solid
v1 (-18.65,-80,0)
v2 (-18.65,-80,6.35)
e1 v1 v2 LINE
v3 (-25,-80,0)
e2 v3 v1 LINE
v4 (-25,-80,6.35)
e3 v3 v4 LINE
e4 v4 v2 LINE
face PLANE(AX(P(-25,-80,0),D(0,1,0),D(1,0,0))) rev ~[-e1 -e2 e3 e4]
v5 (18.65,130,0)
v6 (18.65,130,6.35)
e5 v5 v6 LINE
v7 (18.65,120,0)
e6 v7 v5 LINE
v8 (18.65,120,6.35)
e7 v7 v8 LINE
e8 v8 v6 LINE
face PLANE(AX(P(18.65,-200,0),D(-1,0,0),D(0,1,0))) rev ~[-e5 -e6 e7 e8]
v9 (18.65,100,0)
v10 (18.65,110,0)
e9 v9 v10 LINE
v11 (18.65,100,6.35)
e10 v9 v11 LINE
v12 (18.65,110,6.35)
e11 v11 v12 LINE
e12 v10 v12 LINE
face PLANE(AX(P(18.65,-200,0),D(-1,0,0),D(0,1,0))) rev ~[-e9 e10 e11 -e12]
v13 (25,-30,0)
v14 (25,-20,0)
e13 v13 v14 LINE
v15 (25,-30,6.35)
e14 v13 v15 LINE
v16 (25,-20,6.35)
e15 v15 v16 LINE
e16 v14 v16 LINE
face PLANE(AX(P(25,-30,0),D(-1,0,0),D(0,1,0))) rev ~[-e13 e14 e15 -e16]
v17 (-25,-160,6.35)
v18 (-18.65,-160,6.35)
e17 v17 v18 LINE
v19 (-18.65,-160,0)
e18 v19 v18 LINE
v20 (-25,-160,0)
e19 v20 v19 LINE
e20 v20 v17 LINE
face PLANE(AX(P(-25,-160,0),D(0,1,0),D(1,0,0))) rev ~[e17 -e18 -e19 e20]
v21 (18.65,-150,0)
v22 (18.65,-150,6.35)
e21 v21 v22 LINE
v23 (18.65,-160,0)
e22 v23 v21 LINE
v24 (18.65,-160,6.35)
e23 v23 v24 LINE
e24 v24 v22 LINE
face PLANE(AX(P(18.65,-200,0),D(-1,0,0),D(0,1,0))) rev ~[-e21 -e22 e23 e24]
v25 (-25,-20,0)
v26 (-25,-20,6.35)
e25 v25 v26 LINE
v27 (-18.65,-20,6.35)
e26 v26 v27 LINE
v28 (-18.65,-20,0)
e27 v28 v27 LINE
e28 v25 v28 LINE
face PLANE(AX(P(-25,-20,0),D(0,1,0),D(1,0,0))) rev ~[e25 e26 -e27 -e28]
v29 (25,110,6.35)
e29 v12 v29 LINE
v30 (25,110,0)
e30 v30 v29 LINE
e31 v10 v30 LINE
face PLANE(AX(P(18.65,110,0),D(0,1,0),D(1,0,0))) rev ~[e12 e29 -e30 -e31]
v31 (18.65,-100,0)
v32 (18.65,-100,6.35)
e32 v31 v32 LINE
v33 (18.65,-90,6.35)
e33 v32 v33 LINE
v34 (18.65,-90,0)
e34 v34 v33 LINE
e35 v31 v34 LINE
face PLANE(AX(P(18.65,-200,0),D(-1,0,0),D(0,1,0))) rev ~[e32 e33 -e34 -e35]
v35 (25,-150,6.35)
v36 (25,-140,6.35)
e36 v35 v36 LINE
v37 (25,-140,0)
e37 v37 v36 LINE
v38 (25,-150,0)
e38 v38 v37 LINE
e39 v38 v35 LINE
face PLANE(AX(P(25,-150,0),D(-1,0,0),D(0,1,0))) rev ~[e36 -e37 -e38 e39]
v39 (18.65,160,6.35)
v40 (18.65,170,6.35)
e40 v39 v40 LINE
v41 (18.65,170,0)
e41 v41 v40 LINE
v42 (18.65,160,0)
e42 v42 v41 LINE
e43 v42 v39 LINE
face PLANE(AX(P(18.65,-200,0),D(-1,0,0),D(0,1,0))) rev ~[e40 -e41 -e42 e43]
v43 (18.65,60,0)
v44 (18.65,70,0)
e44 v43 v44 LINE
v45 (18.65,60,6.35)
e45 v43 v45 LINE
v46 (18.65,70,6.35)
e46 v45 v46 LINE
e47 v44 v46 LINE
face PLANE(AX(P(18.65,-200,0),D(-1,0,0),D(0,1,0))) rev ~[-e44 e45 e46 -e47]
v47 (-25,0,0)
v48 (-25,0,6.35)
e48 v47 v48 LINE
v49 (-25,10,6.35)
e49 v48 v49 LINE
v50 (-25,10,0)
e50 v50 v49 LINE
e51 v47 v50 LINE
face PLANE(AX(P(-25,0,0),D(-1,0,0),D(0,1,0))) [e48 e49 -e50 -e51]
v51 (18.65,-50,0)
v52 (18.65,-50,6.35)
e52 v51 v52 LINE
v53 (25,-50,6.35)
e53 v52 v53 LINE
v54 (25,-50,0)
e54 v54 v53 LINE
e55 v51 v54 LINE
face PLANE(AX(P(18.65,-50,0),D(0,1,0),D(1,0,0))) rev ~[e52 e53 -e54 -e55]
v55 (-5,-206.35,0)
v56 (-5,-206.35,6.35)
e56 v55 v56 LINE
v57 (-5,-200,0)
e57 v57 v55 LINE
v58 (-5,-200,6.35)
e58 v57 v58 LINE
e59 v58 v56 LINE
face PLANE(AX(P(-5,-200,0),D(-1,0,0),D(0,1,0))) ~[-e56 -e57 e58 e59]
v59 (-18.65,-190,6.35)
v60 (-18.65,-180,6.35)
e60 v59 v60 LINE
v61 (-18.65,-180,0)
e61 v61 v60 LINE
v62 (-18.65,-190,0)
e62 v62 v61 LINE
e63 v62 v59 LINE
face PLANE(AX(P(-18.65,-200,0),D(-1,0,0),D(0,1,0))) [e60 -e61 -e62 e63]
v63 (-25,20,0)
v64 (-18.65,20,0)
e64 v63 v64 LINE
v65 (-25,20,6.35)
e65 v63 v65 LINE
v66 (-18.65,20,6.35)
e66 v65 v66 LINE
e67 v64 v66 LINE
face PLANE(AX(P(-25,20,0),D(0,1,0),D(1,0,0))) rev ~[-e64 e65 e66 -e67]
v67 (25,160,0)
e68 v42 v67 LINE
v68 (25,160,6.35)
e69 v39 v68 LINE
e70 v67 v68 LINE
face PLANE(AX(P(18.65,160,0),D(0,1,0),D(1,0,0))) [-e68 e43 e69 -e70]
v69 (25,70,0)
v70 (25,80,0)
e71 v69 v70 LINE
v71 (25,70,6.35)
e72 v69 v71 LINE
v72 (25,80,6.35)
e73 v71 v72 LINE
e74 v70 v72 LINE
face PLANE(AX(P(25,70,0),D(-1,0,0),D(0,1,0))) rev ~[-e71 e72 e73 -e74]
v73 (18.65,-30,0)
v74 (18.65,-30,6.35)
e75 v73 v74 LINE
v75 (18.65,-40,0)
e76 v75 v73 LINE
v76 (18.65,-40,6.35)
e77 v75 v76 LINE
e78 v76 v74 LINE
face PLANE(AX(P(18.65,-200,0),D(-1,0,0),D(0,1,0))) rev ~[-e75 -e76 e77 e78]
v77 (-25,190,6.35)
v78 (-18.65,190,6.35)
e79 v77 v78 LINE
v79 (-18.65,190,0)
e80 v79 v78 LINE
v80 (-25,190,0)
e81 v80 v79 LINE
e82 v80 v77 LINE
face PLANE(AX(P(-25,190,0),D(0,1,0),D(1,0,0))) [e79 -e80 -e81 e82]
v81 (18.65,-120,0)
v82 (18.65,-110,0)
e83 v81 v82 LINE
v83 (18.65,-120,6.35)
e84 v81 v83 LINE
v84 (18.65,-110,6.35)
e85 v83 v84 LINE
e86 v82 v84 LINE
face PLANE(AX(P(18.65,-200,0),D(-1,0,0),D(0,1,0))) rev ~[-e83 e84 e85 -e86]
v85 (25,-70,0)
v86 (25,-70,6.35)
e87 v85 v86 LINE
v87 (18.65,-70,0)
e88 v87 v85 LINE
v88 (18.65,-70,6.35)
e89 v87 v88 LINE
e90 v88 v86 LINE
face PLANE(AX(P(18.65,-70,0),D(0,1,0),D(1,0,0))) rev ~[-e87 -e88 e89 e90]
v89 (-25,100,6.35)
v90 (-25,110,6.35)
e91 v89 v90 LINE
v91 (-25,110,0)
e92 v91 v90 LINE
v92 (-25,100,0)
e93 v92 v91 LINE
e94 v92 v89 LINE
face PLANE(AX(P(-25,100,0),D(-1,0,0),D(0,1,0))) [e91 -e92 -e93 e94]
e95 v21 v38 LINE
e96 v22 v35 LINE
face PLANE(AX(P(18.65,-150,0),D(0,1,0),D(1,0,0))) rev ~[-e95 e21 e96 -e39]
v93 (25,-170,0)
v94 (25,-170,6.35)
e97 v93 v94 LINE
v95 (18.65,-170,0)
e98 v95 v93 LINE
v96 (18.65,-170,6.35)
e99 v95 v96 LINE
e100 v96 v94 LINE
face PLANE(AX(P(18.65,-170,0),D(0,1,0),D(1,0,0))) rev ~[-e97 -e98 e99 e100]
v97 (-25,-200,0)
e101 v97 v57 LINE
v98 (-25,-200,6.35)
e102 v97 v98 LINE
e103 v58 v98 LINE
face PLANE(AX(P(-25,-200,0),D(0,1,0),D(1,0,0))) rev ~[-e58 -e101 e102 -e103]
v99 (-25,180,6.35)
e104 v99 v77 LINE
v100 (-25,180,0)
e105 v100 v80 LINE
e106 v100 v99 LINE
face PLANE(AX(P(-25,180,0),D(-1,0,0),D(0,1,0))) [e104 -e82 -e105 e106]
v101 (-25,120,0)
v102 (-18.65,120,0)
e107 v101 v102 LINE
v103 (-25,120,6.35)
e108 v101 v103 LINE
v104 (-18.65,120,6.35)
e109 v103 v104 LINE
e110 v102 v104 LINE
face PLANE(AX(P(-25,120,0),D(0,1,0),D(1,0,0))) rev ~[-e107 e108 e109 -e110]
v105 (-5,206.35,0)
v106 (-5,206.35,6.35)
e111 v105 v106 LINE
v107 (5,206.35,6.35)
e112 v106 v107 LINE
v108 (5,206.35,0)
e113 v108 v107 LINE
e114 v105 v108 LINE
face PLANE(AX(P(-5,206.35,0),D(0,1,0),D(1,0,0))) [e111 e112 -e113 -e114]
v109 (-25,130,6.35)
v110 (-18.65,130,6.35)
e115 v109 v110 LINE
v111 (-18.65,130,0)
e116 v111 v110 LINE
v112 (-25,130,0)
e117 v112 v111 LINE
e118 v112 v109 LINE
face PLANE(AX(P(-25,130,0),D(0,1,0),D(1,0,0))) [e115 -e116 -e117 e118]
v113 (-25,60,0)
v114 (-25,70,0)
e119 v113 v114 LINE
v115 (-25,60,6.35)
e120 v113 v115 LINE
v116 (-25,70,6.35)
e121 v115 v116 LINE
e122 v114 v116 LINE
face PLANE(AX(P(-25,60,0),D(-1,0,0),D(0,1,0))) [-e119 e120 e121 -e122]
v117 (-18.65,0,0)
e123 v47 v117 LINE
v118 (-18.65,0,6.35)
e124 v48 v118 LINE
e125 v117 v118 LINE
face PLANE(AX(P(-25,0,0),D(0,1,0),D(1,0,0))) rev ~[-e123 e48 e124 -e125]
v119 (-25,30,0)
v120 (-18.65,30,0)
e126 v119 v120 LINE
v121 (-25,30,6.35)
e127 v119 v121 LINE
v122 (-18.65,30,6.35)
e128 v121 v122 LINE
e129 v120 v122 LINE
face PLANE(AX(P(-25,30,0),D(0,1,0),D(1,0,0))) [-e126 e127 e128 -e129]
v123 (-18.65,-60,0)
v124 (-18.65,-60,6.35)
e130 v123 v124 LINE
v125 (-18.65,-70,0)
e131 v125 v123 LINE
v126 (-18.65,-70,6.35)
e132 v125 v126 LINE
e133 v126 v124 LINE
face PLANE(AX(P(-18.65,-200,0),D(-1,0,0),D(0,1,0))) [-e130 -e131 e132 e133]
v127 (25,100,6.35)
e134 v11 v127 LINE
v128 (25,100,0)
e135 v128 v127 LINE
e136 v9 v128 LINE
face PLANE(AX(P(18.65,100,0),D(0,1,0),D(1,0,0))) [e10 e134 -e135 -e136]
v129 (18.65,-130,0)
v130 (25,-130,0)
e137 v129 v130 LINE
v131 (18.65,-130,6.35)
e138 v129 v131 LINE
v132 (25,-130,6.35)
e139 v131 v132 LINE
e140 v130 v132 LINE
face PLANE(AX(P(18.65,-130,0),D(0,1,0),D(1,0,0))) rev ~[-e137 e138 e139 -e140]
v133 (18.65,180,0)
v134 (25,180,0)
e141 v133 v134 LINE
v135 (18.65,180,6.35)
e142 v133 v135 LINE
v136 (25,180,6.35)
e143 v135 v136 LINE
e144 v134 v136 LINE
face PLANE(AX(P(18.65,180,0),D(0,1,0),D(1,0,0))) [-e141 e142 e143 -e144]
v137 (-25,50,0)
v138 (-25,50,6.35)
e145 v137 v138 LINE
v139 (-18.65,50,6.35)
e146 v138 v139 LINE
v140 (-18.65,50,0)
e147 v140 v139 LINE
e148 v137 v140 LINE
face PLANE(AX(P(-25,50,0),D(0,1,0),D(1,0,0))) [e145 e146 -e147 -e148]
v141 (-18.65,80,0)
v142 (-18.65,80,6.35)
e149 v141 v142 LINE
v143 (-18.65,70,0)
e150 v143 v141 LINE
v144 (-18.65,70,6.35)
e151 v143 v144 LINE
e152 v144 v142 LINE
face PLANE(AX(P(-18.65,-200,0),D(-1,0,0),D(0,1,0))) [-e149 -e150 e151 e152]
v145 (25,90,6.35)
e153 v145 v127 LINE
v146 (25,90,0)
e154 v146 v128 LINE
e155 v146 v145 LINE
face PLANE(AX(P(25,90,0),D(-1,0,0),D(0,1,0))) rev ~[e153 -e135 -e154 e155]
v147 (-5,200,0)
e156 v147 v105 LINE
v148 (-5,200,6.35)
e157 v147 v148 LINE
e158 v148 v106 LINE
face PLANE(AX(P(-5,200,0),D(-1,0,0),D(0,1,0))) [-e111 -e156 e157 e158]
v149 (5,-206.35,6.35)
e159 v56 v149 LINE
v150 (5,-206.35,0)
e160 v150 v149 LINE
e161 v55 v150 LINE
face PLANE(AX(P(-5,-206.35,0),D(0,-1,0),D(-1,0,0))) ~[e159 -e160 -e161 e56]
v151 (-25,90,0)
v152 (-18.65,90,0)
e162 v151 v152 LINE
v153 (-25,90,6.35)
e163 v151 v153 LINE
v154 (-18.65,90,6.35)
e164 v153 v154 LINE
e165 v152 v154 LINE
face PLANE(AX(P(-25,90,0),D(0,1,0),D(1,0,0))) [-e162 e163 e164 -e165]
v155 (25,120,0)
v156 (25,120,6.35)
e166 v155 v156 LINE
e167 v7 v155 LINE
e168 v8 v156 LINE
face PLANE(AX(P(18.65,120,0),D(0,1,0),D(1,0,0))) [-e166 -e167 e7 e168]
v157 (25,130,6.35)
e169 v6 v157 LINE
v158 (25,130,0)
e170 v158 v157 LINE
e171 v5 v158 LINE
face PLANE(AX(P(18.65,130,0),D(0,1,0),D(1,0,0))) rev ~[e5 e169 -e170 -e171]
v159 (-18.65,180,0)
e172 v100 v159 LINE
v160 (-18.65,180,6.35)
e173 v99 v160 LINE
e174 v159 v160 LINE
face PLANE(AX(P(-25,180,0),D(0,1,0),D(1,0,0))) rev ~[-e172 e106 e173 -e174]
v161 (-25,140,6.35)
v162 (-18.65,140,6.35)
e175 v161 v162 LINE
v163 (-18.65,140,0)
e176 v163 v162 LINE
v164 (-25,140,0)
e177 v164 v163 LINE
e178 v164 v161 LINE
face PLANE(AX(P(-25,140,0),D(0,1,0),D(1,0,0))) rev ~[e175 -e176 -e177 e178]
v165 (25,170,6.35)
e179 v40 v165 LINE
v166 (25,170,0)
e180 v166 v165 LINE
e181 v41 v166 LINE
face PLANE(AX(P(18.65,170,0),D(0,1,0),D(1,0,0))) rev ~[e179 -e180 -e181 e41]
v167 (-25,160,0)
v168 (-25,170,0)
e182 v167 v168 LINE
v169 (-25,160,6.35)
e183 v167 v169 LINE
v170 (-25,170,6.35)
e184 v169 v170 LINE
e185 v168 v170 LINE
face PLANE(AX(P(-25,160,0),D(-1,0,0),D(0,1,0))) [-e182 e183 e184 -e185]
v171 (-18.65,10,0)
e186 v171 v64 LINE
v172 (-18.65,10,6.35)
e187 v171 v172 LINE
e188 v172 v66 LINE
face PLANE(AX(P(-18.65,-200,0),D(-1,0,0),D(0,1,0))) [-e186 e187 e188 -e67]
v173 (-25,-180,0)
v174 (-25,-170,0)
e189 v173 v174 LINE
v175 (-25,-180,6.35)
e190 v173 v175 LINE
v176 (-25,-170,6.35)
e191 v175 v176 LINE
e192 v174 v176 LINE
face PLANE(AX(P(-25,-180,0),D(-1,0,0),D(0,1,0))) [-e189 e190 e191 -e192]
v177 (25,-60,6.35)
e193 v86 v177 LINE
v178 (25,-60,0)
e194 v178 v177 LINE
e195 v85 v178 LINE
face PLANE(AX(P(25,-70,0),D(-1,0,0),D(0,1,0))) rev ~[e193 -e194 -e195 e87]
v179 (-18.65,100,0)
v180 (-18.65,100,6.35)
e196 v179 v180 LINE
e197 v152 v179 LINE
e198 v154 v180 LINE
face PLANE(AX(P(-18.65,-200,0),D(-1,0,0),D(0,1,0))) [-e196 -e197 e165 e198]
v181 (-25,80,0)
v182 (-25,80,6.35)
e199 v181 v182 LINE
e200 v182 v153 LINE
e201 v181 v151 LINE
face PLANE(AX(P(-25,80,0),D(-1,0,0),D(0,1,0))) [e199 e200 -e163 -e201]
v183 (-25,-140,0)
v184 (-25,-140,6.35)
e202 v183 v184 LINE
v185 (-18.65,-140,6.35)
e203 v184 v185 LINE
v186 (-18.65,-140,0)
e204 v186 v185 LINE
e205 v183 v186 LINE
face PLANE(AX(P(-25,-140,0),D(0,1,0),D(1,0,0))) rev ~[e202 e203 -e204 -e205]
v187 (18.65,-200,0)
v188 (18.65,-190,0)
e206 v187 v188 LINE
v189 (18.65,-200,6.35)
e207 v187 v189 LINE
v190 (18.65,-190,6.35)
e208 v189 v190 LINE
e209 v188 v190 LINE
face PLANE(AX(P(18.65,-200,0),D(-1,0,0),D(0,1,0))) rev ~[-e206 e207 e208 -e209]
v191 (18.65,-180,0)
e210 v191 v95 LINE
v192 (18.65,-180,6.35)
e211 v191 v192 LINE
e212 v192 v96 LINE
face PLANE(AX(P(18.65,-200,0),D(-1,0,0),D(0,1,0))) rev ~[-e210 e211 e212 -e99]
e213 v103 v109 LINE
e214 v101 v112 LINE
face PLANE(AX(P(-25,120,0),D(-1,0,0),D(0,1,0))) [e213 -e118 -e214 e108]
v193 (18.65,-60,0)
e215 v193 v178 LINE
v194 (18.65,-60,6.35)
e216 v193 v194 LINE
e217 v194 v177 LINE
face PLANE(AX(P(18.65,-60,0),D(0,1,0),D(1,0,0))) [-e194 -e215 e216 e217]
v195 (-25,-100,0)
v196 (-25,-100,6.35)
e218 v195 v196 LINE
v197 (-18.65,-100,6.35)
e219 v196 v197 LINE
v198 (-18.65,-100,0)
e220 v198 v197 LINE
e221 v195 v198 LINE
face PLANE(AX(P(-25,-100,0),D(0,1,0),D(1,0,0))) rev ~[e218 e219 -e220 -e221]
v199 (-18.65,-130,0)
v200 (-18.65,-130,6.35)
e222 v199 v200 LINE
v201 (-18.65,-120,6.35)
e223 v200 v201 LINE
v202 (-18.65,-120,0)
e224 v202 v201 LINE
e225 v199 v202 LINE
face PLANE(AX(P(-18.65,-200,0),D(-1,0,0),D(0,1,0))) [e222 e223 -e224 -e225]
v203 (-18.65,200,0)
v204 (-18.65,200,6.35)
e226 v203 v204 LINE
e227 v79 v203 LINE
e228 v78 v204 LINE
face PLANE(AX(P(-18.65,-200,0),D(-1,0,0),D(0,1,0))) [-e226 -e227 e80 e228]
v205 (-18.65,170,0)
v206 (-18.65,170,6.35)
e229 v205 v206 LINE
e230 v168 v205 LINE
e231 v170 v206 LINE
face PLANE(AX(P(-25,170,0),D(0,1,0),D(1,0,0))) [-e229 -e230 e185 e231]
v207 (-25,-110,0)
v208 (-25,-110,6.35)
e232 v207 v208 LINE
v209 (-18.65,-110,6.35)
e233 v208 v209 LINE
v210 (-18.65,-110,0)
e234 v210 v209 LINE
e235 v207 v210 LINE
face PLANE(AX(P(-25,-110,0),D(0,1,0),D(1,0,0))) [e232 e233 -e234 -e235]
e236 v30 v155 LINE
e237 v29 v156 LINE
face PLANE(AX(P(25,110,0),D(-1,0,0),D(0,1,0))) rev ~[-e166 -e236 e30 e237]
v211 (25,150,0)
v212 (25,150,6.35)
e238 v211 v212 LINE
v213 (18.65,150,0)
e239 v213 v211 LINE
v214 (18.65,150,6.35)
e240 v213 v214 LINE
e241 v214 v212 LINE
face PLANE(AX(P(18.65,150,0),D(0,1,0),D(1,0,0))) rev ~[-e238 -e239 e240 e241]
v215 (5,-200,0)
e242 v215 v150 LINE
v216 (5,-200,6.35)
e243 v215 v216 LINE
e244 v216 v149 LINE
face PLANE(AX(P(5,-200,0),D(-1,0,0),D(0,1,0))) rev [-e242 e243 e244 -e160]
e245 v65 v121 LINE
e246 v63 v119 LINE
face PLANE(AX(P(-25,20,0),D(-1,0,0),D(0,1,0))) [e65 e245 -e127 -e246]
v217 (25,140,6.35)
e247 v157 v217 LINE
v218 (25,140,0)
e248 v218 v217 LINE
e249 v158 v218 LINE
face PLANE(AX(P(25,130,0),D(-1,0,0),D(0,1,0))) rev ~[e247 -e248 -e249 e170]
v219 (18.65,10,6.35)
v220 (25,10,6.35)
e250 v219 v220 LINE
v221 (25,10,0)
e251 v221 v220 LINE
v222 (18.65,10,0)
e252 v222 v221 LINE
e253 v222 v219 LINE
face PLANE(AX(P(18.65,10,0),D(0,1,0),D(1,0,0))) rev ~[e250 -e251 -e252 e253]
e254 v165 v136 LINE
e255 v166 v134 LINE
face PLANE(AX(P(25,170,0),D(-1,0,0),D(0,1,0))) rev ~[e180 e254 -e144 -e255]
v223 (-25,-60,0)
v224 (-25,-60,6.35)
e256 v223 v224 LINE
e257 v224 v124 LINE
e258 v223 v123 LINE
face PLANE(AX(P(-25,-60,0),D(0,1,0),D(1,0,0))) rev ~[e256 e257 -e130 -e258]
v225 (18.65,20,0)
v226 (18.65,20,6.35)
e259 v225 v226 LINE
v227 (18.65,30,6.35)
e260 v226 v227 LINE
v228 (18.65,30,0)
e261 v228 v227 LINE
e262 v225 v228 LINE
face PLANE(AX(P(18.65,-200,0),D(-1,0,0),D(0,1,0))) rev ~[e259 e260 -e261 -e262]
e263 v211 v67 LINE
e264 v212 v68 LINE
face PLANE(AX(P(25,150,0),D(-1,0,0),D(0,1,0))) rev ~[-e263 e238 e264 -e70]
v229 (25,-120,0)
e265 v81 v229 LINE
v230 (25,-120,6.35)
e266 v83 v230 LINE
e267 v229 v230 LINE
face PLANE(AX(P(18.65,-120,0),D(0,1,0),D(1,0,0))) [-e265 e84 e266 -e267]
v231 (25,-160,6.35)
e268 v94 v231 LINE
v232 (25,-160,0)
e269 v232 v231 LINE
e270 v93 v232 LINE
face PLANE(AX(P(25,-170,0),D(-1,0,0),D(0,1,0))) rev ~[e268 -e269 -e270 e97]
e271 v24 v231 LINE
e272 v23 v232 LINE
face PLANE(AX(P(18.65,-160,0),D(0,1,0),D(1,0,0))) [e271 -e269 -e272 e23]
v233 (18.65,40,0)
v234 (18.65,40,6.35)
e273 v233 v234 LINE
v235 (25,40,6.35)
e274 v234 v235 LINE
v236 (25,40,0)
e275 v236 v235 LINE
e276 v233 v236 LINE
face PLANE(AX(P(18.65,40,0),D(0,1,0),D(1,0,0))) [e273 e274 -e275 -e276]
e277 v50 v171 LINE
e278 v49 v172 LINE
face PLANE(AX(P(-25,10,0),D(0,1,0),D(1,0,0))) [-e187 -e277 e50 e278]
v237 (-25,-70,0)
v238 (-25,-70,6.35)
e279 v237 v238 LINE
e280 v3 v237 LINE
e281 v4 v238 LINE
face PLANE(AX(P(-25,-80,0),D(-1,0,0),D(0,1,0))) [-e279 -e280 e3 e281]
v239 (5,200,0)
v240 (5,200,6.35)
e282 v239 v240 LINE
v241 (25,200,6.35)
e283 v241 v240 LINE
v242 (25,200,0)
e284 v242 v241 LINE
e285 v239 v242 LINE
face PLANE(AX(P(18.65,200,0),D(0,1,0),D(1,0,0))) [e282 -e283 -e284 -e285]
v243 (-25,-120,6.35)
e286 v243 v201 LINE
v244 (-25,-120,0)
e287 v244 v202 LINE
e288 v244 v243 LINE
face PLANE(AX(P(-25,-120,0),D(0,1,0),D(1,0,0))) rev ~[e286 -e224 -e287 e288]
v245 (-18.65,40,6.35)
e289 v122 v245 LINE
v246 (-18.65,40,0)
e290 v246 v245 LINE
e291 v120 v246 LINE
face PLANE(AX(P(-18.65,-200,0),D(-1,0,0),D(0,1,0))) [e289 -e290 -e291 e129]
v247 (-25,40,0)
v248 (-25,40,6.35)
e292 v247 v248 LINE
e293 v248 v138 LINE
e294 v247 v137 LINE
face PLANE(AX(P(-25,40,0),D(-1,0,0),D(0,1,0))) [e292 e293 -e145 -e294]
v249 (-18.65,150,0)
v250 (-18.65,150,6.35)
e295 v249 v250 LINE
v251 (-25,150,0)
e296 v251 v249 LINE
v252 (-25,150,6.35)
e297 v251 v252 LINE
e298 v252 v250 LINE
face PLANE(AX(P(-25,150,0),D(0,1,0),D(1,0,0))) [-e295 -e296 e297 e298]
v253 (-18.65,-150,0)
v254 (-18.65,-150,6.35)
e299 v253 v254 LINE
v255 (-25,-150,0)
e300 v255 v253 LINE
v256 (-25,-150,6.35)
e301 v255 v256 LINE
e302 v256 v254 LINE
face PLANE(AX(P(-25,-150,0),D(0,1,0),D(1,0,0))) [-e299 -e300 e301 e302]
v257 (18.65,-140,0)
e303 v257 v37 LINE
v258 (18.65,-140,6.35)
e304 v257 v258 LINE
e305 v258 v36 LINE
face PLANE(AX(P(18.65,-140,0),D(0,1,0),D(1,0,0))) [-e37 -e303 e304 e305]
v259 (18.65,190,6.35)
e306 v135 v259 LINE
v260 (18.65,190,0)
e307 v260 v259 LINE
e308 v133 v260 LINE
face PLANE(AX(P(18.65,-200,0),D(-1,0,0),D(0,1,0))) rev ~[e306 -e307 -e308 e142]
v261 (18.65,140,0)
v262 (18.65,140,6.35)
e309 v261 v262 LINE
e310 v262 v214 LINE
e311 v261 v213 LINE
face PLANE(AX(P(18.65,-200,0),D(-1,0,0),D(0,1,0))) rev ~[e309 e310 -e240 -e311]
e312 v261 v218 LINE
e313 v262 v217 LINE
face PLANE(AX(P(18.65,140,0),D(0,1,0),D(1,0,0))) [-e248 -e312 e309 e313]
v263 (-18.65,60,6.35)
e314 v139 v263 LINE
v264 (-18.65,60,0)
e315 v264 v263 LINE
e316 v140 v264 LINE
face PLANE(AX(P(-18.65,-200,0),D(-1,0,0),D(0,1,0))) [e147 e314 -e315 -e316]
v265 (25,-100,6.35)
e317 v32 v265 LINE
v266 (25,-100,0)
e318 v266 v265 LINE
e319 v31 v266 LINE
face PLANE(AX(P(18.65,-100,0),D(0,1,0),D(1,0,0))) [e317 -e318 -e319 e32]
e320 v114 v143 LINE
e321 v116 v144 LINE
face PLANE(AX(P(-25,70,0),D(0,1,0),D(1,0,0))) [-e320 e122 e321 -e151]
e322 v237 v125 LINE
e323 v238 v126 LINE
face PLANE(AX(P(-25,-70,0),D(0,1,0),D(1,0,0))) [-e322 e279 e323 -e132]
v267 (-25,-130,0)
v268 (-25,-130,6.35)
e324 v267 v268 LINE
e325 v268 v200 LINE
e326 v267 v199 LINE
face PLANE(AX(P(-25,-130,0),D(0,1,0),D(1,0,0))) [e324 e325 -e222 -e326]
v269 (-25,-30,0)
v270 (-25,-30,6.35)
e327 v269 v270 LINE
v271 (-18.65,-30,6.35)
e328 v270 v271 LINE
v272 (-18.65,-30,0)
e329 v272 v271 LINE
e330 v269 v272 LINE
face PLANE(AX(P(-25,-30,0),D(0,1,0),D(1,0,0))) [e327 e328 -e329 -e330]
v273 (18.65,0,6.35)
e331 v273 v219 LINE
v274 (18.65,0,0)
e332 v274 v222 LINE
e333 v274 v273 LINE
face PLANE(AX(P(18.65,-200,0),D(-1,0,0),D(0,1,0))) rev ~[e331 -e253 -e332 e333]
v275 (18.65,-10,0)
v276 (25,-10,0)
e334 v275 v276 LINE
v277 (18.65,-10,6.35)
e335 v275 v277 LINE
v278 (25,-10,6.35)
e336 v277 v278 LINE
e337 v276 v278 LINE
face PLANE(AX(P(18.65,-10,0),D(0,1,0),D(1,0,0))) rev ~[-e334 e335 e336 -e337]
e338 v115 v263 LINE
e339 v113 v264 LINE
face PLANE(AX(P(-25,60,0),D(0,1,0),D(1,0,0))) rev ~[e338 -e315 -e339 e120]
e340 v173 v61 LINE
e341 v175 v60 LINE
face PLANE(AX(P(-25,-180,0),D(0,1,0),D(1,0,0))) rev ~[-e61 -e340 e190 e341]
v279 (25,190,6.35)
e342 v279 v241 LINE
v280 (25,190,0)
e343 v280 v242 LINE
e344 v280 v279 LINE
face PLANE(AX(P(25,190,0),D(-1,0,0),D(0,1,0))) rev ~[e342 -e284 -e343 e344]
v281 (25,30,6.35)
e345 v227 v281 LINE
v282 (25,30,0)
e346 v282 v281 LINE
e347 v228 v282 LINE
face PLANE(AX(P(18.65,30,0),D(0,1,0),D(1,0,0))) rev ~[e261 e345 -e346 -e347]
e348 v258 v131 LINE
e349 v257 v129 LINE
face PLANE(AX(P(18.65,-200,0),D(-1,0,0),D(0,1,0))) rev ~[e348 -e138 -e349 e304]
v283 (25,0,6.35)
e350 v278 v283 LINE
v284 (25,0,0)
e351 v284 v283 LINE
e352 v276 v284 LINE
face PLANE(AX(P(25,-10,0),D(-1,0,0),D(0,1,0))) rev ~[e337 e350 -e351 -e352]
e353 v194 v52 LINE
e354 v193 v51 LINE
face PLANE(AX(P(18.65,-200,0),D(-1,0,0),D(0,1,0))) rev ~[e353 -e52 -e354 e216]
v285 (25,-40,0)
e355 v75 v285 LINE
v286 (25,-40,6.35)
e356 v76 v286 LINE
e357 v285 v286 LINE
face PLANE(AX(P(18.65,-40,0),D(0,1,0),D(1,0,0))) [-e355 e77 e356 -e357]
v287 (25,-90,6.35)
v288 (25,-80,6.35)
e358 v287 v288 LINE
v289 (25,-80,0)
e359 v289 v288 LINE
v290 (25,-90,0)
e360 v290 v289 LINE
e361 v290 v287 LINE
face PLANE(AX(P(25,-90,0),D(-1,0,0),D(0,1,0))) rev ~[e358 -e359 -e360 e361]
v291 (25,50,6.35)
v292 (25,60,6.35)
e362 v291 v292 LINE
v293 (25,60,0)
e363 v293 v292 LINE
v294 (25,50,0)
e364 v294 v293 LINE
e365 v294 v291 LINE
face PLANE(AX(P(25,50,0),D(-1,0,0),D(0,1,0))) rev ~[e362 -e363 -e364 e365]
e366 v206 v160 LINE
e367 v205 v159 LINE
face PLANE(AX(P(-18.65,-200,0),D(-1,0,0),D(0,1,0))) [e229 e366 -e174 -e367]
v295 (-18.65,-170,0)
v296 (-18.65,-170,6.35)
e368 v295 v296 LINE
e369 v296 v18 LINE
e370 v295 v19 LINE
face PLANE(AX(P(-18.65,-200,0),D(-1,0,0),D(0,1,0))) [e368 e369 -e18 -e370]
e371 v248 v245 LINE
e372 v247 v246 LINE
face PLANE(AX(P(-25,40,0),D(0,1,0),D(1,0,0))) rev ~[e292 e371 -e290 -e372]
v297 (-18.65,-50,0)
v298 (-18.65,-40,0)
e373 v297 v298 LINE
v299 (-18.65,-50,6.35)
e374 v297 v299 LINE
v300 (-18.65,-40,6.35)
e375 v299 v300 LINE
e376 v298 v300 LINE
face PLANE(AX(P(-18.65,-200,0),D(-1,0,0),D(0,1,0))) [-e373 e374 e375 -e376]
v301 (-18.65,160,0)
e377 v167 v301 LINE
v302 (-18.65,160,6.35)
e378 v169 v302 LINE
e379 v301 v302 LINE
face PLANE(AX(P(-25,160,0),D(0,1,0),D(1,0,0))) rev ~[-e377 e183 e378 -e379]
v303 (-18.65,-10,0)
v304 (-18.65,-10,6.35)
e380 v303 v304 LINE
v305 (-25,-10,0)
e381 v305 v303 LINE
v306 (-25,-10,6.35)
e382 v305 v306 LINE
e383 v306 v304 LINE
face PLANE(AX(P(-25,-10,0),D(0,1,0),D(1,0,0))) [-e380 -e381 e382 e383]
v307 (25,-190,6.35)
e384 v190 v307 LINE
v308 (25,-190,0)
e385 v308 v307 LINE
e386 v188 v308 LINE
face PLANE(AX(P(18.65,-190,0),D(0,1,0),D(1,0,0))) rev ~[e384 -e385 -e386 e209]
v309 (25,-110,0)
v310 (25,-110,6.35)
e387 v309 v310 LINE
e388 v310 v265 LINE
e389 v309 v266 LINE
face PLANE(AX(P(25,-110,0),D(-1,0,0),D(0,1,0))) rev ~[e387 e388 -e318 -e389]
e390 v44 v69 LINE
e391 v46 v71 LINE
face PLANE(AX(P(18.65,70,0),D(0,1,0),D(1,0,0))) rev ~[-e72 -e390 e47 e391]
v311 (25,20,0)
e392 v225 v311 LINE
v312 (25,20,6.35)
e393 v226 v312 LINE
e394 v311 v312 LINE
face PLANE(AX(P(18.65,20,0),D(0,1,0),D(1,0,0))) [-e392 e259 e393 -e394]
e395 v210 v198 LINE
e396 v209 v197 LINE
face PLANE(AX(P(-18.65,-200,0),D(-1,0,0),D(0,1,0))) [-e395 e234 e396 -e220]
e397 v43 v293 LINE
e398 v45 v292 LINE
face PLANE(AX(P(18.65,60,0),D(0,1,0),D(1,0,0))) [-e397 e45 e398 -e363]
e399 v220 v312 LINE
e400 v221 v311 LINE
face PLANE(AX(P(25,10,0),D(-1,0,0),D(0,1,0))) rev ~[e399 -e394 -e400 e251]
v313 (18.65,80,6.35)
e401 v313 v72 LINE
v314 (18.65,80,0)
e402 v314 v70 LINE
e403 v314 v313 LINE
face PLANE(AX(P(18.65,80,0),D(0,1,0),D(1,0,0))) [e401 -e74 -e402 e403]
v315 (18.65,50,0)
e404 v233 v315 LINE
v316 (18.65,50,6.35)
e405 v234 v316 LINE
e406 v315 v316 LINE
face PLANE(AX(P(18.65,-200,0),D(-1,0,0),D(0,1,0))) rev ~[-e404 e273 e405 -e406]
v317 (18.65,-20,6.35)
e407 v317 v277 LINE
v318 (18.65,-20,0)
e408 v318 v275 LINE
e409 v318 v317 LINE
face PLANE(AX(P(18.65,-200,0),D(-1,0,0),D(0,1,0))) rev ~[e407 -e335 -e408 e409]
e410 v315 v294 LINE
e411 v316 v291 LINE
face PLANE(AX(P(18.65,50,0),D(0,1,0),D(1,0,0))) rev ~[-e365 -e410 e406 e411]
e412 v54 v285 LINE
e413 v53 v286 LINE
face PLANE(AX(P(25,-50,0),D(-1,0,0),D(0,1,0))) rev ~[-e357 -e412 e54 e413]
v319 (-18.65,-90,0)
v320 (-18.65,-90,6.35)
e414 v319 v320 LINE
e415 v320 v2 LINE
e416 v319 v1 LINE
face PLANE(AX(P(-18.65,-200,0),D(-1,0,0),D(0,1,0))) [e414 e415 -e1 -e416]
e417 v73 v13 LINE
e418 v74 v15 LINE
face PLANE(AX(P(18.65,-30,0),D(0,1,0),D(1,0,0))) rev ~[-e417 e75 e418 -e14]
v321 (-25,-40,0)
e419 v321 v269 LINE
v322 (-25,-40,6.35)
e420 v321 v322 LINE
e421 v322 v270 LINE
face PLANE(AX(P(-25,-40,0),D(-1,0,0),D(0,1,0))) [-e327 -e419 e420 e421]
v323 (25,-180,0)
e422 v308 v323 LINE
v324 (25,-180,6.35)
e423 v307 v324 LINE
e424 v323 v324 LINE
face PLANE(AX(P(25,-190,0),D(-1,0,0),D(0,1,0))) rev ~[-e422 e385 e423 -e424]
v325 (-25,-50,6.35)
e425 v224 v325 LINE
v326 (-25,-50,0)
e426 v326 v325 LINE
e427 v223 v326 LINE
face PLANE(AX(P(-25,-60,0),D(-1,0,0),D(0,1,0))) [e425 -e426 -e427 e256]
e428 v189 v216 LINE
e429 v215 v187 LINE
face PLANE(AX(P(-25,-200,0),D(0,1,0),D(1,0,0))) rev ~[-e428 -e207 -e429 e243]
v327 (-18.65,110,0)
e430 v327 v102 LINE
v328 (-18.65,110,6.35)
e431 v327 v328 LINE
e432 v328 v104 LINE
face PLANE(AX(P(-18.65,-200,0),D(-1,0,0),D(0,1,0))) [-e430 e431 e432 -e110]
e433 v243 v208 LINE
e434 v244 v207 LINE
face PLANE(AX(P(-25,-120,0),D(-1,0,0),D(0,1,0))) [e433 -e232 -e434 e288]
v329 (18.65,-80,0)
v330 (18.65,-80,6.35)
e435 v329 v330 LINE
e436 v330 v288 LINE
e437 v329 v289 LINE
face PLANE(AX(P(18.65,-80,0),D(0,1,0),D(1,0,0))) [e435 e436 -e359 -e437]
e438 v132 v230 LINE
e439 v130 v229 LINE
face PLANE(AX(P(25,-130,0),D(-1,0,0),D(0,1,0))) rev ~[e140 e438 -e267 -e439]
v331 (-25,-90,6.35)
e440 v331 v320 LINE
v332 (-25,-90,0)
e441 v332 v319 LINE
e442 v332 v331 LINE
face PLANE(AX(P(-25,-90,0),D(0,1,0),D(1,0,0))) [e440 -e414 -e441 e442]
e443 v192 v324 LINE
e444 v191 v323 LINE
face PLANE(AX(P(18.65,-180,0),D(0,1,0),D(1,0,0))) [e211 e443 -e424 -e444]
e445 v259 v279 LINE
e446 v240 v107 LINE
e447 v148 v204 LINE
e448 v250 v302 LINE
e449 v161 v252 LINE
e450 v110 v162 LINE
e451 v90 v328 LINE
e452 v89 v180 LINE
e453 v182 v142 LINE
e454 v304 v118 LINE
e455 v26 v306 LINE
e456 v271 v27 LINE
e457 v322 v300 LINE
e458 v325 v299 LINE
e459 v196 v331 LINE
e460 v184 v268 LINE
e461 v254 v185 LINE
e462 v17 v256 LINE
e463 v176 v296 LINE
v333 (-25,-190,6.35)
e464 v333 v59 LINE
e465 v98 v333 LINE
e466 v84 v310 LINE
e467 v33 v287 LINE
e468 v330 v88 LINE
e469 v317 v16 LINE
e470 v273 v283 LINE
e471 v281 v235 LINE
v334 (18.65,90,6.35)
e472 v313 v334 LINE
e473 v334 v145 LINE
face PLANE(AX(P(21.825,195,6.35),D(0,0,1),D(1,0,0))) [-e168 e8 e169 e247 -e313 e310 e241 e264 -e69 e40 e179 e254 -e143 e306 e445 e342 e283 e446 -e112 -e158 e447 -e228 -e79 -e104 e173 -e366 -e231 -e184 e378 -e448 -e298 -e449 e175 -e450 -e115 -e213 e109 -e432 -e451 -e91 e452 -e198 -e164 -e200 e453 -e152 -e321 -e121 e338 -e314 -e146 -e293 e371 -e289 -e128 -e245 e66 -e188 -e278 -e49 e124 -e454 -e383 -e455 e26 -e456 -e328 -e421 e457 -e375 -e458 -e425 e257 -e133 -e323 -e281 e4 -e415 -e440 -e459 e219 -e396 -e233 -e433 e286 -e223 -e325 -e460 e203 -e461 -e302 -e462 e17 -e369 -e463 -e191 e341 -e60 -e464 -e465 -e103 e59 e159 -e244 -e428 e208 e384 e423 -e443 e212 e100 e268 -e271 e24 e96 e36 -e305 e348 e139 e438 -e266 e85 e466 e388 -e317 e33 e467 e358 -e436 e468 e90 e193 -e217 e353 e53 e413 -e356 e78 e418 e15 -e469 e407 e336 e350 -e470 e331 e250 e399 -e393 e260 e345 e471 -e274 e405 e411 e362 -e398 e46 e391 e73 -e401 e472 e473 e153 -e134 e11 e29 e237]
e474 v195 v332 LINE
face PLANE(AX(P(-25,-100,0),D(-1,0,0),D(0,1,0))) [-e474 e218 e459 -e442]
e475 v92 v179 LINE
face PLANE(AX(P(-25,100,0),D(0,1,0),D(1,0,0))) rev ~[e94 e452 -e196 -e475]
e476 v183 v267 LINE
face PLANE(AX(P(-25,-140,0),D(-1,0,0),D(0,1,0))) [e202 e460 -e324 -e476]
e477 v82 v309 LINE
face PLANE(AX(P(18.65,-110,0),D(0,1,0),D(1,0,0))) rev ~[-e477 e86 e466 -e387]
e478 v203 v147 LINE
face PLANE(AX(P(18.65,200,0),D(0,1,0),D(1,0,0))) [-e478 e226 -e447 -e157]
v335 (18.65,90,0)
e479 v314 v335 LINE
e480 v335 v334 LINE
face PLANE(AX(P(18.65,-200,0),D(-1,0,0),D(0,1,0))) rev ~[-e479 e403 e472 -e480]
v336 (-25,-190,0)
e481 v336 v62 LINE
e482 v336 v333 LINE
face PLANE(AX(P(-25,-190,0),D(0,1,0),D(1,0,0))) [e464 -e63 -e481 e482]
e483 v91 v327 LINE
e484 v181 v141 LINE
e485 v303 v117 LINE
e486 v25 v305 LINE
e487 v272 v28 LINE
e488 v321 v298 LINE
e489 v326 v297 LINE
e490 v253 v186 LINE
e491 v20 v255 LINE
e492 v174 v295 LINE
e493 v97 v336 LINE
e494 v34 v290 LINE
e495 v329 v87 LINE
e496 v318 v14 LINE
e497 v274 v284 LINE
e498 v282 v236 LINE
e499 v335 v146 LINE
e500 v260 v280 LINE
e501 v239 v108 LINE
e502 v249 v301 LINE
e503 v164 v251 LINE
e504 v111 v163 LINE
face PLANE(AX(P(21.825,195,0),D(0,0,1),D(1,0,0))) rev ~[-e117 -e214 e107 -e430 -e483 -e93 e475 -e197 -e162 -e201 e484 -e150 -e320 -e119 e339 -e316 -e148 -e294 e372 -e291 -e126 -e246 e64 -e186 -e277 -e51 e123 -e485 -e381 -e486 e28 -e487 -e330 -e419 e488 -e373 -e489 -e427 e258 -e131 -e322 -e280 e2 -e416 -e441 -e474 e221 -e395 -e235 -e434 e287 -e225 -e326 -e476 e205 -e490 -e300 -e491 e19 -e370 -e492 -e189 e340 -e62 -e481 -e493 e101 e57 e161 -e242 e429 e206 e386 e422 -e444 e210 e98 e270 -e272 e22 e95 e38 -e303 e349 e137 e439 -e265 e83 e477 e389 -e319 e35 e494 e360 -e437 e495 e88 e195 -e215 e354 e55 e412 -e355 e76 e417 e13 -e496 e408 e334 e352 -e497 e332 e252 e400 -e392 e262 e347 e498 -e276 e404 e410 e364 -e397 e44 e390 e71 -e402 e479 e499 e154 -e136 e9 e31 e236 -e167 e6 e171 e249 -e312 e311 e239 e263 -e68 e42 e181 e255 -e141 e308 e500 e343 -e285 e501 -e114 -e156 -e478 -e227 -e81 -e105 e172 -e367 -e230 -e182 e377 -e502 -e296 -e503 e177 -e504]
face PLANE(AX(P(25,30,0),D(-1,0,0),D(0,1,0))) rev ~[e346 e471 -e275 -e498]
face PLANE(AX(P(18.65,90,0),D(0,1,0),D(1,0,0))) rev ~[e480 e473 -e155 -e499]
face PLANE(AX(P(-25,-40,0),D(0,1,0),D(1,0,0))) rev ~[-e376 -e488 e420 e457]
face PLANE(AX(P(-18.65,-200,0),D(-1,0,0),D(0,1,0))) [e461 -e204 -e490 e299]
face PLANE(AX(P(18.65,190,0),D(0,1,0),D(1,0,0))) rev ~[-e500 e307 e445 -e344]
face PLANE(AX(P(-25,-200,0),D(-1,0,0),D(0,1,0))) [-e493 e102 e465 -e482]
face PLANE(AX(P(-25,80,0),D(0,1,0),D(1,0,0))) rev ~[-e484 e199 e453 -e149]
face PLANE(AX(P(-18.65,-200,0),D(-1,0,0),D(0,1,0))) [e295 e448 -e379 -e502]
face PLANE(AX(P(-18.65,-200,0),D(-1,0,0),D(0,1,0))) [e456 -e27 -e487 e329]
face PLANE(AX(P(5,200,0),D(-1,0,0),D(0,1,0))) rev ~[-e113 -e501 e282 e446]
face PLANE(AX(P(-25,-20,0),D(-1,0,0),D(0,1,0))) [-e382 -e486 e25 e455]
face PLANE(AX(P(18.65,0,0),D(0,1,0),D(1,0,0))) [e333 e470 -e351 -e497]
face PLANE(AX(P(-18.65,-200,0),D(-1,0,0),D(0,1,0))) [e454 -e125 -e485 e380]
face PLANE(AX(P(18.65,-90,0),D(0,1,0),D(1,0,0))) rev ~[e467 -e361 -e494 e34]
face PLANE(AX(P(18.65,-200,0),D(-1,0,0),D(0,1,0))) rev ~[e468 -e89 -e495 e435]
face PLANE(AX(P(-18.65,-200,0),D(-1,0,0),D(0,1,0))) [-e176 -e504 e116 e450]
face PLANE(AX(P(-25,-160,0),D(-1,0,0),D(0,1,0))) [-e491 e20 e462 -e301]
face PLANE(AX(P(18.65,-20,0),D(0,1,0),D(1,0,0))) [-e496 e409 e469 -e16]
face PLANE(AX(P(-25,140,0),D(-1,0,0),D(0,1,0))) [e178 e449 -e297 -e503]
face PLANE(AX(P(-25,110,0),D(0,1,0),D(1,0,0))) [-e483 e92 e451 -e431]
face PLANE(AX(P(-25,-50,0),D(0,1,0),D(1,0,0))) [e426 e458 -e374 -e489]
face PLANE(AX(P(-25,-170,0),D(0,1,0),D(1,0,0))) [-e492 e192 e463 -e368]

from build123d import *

# Parameters (mm, degrees)
SKETCH1_W           = 37.3
SKETCH1_H           = 400
BOSS_EXTRUDE1_DEPTH = 6.35
SKETCH10_W          = 6.35
SKETCH10_H          = 10
BOSS_EXTRUDE3_DEPTH = 6.35
SKETCH11_W          = 6.35
SKETCH11_H          = 10
BOSS_EXTRUDE4_DEPTH = 6.35
LPATTERN5_COUNT     = 20
LPATTERN5_PITCH     = 20
SKETCH12_W          = 10
SKETCH12_H          = 6.35
BOSS_EXTRUDE5_DEPTH = 6.35


with BuildPart() as part:
    # Sketch1 → Boss-Extrude1 (new body)
    with BuildSketch(Plane.XY):
        Rectangle(SKETCH1_W, SKETCH1_H)
    extrude(amount=BOSS_EXTRUDE1_DEPTH)

    # Sketch10 → Boss-Extrude3 (add)
    with BuildSketch(Plane.XY):
        with Locations((-21.825, -195)):
            Rectangle(SKETCH10_W, SKETCH10_H)
    boss_extrude3 = extrude(amount=BOSS_EXTRUDE3_DEPTH)

    # Sketch11 → Boss-Extrude4 (add)
    with BuildSketch(Plane.XY):
        with Locations((21.825, -185)):
            Rectangle(SKETCH11_W, SKETCH11_H)
    boss_extrude4 = extrude(amount=BOSS_EXTRUDE4_DEPTH)

    # LPattern5: Boss-Extrude3, Boss-Extrude4 ×20
    with Locations(*[(0, i * LPATTERN5_PITCH, 0) for i in range(1, LPATTERN5_COUNT)]):
        add(boss_extrude3)
        add(boss_extrude4)

    # Sketch12 → Boss-Extrude5 (add)
    with BuildSketch(Plane.XY):
        with Locations((0, 203.175)):
            Rectangle(SKETCH12_W, SKETCH12_H)
    boss_extrude5 = extrude(amount=BOSS_EXTRUDE5_DEPTH)

    # Mirror1: Boss-Extrude5 across plane
    add(boss_extrude5.mirror(Plane.ZX))


solid = part.part
